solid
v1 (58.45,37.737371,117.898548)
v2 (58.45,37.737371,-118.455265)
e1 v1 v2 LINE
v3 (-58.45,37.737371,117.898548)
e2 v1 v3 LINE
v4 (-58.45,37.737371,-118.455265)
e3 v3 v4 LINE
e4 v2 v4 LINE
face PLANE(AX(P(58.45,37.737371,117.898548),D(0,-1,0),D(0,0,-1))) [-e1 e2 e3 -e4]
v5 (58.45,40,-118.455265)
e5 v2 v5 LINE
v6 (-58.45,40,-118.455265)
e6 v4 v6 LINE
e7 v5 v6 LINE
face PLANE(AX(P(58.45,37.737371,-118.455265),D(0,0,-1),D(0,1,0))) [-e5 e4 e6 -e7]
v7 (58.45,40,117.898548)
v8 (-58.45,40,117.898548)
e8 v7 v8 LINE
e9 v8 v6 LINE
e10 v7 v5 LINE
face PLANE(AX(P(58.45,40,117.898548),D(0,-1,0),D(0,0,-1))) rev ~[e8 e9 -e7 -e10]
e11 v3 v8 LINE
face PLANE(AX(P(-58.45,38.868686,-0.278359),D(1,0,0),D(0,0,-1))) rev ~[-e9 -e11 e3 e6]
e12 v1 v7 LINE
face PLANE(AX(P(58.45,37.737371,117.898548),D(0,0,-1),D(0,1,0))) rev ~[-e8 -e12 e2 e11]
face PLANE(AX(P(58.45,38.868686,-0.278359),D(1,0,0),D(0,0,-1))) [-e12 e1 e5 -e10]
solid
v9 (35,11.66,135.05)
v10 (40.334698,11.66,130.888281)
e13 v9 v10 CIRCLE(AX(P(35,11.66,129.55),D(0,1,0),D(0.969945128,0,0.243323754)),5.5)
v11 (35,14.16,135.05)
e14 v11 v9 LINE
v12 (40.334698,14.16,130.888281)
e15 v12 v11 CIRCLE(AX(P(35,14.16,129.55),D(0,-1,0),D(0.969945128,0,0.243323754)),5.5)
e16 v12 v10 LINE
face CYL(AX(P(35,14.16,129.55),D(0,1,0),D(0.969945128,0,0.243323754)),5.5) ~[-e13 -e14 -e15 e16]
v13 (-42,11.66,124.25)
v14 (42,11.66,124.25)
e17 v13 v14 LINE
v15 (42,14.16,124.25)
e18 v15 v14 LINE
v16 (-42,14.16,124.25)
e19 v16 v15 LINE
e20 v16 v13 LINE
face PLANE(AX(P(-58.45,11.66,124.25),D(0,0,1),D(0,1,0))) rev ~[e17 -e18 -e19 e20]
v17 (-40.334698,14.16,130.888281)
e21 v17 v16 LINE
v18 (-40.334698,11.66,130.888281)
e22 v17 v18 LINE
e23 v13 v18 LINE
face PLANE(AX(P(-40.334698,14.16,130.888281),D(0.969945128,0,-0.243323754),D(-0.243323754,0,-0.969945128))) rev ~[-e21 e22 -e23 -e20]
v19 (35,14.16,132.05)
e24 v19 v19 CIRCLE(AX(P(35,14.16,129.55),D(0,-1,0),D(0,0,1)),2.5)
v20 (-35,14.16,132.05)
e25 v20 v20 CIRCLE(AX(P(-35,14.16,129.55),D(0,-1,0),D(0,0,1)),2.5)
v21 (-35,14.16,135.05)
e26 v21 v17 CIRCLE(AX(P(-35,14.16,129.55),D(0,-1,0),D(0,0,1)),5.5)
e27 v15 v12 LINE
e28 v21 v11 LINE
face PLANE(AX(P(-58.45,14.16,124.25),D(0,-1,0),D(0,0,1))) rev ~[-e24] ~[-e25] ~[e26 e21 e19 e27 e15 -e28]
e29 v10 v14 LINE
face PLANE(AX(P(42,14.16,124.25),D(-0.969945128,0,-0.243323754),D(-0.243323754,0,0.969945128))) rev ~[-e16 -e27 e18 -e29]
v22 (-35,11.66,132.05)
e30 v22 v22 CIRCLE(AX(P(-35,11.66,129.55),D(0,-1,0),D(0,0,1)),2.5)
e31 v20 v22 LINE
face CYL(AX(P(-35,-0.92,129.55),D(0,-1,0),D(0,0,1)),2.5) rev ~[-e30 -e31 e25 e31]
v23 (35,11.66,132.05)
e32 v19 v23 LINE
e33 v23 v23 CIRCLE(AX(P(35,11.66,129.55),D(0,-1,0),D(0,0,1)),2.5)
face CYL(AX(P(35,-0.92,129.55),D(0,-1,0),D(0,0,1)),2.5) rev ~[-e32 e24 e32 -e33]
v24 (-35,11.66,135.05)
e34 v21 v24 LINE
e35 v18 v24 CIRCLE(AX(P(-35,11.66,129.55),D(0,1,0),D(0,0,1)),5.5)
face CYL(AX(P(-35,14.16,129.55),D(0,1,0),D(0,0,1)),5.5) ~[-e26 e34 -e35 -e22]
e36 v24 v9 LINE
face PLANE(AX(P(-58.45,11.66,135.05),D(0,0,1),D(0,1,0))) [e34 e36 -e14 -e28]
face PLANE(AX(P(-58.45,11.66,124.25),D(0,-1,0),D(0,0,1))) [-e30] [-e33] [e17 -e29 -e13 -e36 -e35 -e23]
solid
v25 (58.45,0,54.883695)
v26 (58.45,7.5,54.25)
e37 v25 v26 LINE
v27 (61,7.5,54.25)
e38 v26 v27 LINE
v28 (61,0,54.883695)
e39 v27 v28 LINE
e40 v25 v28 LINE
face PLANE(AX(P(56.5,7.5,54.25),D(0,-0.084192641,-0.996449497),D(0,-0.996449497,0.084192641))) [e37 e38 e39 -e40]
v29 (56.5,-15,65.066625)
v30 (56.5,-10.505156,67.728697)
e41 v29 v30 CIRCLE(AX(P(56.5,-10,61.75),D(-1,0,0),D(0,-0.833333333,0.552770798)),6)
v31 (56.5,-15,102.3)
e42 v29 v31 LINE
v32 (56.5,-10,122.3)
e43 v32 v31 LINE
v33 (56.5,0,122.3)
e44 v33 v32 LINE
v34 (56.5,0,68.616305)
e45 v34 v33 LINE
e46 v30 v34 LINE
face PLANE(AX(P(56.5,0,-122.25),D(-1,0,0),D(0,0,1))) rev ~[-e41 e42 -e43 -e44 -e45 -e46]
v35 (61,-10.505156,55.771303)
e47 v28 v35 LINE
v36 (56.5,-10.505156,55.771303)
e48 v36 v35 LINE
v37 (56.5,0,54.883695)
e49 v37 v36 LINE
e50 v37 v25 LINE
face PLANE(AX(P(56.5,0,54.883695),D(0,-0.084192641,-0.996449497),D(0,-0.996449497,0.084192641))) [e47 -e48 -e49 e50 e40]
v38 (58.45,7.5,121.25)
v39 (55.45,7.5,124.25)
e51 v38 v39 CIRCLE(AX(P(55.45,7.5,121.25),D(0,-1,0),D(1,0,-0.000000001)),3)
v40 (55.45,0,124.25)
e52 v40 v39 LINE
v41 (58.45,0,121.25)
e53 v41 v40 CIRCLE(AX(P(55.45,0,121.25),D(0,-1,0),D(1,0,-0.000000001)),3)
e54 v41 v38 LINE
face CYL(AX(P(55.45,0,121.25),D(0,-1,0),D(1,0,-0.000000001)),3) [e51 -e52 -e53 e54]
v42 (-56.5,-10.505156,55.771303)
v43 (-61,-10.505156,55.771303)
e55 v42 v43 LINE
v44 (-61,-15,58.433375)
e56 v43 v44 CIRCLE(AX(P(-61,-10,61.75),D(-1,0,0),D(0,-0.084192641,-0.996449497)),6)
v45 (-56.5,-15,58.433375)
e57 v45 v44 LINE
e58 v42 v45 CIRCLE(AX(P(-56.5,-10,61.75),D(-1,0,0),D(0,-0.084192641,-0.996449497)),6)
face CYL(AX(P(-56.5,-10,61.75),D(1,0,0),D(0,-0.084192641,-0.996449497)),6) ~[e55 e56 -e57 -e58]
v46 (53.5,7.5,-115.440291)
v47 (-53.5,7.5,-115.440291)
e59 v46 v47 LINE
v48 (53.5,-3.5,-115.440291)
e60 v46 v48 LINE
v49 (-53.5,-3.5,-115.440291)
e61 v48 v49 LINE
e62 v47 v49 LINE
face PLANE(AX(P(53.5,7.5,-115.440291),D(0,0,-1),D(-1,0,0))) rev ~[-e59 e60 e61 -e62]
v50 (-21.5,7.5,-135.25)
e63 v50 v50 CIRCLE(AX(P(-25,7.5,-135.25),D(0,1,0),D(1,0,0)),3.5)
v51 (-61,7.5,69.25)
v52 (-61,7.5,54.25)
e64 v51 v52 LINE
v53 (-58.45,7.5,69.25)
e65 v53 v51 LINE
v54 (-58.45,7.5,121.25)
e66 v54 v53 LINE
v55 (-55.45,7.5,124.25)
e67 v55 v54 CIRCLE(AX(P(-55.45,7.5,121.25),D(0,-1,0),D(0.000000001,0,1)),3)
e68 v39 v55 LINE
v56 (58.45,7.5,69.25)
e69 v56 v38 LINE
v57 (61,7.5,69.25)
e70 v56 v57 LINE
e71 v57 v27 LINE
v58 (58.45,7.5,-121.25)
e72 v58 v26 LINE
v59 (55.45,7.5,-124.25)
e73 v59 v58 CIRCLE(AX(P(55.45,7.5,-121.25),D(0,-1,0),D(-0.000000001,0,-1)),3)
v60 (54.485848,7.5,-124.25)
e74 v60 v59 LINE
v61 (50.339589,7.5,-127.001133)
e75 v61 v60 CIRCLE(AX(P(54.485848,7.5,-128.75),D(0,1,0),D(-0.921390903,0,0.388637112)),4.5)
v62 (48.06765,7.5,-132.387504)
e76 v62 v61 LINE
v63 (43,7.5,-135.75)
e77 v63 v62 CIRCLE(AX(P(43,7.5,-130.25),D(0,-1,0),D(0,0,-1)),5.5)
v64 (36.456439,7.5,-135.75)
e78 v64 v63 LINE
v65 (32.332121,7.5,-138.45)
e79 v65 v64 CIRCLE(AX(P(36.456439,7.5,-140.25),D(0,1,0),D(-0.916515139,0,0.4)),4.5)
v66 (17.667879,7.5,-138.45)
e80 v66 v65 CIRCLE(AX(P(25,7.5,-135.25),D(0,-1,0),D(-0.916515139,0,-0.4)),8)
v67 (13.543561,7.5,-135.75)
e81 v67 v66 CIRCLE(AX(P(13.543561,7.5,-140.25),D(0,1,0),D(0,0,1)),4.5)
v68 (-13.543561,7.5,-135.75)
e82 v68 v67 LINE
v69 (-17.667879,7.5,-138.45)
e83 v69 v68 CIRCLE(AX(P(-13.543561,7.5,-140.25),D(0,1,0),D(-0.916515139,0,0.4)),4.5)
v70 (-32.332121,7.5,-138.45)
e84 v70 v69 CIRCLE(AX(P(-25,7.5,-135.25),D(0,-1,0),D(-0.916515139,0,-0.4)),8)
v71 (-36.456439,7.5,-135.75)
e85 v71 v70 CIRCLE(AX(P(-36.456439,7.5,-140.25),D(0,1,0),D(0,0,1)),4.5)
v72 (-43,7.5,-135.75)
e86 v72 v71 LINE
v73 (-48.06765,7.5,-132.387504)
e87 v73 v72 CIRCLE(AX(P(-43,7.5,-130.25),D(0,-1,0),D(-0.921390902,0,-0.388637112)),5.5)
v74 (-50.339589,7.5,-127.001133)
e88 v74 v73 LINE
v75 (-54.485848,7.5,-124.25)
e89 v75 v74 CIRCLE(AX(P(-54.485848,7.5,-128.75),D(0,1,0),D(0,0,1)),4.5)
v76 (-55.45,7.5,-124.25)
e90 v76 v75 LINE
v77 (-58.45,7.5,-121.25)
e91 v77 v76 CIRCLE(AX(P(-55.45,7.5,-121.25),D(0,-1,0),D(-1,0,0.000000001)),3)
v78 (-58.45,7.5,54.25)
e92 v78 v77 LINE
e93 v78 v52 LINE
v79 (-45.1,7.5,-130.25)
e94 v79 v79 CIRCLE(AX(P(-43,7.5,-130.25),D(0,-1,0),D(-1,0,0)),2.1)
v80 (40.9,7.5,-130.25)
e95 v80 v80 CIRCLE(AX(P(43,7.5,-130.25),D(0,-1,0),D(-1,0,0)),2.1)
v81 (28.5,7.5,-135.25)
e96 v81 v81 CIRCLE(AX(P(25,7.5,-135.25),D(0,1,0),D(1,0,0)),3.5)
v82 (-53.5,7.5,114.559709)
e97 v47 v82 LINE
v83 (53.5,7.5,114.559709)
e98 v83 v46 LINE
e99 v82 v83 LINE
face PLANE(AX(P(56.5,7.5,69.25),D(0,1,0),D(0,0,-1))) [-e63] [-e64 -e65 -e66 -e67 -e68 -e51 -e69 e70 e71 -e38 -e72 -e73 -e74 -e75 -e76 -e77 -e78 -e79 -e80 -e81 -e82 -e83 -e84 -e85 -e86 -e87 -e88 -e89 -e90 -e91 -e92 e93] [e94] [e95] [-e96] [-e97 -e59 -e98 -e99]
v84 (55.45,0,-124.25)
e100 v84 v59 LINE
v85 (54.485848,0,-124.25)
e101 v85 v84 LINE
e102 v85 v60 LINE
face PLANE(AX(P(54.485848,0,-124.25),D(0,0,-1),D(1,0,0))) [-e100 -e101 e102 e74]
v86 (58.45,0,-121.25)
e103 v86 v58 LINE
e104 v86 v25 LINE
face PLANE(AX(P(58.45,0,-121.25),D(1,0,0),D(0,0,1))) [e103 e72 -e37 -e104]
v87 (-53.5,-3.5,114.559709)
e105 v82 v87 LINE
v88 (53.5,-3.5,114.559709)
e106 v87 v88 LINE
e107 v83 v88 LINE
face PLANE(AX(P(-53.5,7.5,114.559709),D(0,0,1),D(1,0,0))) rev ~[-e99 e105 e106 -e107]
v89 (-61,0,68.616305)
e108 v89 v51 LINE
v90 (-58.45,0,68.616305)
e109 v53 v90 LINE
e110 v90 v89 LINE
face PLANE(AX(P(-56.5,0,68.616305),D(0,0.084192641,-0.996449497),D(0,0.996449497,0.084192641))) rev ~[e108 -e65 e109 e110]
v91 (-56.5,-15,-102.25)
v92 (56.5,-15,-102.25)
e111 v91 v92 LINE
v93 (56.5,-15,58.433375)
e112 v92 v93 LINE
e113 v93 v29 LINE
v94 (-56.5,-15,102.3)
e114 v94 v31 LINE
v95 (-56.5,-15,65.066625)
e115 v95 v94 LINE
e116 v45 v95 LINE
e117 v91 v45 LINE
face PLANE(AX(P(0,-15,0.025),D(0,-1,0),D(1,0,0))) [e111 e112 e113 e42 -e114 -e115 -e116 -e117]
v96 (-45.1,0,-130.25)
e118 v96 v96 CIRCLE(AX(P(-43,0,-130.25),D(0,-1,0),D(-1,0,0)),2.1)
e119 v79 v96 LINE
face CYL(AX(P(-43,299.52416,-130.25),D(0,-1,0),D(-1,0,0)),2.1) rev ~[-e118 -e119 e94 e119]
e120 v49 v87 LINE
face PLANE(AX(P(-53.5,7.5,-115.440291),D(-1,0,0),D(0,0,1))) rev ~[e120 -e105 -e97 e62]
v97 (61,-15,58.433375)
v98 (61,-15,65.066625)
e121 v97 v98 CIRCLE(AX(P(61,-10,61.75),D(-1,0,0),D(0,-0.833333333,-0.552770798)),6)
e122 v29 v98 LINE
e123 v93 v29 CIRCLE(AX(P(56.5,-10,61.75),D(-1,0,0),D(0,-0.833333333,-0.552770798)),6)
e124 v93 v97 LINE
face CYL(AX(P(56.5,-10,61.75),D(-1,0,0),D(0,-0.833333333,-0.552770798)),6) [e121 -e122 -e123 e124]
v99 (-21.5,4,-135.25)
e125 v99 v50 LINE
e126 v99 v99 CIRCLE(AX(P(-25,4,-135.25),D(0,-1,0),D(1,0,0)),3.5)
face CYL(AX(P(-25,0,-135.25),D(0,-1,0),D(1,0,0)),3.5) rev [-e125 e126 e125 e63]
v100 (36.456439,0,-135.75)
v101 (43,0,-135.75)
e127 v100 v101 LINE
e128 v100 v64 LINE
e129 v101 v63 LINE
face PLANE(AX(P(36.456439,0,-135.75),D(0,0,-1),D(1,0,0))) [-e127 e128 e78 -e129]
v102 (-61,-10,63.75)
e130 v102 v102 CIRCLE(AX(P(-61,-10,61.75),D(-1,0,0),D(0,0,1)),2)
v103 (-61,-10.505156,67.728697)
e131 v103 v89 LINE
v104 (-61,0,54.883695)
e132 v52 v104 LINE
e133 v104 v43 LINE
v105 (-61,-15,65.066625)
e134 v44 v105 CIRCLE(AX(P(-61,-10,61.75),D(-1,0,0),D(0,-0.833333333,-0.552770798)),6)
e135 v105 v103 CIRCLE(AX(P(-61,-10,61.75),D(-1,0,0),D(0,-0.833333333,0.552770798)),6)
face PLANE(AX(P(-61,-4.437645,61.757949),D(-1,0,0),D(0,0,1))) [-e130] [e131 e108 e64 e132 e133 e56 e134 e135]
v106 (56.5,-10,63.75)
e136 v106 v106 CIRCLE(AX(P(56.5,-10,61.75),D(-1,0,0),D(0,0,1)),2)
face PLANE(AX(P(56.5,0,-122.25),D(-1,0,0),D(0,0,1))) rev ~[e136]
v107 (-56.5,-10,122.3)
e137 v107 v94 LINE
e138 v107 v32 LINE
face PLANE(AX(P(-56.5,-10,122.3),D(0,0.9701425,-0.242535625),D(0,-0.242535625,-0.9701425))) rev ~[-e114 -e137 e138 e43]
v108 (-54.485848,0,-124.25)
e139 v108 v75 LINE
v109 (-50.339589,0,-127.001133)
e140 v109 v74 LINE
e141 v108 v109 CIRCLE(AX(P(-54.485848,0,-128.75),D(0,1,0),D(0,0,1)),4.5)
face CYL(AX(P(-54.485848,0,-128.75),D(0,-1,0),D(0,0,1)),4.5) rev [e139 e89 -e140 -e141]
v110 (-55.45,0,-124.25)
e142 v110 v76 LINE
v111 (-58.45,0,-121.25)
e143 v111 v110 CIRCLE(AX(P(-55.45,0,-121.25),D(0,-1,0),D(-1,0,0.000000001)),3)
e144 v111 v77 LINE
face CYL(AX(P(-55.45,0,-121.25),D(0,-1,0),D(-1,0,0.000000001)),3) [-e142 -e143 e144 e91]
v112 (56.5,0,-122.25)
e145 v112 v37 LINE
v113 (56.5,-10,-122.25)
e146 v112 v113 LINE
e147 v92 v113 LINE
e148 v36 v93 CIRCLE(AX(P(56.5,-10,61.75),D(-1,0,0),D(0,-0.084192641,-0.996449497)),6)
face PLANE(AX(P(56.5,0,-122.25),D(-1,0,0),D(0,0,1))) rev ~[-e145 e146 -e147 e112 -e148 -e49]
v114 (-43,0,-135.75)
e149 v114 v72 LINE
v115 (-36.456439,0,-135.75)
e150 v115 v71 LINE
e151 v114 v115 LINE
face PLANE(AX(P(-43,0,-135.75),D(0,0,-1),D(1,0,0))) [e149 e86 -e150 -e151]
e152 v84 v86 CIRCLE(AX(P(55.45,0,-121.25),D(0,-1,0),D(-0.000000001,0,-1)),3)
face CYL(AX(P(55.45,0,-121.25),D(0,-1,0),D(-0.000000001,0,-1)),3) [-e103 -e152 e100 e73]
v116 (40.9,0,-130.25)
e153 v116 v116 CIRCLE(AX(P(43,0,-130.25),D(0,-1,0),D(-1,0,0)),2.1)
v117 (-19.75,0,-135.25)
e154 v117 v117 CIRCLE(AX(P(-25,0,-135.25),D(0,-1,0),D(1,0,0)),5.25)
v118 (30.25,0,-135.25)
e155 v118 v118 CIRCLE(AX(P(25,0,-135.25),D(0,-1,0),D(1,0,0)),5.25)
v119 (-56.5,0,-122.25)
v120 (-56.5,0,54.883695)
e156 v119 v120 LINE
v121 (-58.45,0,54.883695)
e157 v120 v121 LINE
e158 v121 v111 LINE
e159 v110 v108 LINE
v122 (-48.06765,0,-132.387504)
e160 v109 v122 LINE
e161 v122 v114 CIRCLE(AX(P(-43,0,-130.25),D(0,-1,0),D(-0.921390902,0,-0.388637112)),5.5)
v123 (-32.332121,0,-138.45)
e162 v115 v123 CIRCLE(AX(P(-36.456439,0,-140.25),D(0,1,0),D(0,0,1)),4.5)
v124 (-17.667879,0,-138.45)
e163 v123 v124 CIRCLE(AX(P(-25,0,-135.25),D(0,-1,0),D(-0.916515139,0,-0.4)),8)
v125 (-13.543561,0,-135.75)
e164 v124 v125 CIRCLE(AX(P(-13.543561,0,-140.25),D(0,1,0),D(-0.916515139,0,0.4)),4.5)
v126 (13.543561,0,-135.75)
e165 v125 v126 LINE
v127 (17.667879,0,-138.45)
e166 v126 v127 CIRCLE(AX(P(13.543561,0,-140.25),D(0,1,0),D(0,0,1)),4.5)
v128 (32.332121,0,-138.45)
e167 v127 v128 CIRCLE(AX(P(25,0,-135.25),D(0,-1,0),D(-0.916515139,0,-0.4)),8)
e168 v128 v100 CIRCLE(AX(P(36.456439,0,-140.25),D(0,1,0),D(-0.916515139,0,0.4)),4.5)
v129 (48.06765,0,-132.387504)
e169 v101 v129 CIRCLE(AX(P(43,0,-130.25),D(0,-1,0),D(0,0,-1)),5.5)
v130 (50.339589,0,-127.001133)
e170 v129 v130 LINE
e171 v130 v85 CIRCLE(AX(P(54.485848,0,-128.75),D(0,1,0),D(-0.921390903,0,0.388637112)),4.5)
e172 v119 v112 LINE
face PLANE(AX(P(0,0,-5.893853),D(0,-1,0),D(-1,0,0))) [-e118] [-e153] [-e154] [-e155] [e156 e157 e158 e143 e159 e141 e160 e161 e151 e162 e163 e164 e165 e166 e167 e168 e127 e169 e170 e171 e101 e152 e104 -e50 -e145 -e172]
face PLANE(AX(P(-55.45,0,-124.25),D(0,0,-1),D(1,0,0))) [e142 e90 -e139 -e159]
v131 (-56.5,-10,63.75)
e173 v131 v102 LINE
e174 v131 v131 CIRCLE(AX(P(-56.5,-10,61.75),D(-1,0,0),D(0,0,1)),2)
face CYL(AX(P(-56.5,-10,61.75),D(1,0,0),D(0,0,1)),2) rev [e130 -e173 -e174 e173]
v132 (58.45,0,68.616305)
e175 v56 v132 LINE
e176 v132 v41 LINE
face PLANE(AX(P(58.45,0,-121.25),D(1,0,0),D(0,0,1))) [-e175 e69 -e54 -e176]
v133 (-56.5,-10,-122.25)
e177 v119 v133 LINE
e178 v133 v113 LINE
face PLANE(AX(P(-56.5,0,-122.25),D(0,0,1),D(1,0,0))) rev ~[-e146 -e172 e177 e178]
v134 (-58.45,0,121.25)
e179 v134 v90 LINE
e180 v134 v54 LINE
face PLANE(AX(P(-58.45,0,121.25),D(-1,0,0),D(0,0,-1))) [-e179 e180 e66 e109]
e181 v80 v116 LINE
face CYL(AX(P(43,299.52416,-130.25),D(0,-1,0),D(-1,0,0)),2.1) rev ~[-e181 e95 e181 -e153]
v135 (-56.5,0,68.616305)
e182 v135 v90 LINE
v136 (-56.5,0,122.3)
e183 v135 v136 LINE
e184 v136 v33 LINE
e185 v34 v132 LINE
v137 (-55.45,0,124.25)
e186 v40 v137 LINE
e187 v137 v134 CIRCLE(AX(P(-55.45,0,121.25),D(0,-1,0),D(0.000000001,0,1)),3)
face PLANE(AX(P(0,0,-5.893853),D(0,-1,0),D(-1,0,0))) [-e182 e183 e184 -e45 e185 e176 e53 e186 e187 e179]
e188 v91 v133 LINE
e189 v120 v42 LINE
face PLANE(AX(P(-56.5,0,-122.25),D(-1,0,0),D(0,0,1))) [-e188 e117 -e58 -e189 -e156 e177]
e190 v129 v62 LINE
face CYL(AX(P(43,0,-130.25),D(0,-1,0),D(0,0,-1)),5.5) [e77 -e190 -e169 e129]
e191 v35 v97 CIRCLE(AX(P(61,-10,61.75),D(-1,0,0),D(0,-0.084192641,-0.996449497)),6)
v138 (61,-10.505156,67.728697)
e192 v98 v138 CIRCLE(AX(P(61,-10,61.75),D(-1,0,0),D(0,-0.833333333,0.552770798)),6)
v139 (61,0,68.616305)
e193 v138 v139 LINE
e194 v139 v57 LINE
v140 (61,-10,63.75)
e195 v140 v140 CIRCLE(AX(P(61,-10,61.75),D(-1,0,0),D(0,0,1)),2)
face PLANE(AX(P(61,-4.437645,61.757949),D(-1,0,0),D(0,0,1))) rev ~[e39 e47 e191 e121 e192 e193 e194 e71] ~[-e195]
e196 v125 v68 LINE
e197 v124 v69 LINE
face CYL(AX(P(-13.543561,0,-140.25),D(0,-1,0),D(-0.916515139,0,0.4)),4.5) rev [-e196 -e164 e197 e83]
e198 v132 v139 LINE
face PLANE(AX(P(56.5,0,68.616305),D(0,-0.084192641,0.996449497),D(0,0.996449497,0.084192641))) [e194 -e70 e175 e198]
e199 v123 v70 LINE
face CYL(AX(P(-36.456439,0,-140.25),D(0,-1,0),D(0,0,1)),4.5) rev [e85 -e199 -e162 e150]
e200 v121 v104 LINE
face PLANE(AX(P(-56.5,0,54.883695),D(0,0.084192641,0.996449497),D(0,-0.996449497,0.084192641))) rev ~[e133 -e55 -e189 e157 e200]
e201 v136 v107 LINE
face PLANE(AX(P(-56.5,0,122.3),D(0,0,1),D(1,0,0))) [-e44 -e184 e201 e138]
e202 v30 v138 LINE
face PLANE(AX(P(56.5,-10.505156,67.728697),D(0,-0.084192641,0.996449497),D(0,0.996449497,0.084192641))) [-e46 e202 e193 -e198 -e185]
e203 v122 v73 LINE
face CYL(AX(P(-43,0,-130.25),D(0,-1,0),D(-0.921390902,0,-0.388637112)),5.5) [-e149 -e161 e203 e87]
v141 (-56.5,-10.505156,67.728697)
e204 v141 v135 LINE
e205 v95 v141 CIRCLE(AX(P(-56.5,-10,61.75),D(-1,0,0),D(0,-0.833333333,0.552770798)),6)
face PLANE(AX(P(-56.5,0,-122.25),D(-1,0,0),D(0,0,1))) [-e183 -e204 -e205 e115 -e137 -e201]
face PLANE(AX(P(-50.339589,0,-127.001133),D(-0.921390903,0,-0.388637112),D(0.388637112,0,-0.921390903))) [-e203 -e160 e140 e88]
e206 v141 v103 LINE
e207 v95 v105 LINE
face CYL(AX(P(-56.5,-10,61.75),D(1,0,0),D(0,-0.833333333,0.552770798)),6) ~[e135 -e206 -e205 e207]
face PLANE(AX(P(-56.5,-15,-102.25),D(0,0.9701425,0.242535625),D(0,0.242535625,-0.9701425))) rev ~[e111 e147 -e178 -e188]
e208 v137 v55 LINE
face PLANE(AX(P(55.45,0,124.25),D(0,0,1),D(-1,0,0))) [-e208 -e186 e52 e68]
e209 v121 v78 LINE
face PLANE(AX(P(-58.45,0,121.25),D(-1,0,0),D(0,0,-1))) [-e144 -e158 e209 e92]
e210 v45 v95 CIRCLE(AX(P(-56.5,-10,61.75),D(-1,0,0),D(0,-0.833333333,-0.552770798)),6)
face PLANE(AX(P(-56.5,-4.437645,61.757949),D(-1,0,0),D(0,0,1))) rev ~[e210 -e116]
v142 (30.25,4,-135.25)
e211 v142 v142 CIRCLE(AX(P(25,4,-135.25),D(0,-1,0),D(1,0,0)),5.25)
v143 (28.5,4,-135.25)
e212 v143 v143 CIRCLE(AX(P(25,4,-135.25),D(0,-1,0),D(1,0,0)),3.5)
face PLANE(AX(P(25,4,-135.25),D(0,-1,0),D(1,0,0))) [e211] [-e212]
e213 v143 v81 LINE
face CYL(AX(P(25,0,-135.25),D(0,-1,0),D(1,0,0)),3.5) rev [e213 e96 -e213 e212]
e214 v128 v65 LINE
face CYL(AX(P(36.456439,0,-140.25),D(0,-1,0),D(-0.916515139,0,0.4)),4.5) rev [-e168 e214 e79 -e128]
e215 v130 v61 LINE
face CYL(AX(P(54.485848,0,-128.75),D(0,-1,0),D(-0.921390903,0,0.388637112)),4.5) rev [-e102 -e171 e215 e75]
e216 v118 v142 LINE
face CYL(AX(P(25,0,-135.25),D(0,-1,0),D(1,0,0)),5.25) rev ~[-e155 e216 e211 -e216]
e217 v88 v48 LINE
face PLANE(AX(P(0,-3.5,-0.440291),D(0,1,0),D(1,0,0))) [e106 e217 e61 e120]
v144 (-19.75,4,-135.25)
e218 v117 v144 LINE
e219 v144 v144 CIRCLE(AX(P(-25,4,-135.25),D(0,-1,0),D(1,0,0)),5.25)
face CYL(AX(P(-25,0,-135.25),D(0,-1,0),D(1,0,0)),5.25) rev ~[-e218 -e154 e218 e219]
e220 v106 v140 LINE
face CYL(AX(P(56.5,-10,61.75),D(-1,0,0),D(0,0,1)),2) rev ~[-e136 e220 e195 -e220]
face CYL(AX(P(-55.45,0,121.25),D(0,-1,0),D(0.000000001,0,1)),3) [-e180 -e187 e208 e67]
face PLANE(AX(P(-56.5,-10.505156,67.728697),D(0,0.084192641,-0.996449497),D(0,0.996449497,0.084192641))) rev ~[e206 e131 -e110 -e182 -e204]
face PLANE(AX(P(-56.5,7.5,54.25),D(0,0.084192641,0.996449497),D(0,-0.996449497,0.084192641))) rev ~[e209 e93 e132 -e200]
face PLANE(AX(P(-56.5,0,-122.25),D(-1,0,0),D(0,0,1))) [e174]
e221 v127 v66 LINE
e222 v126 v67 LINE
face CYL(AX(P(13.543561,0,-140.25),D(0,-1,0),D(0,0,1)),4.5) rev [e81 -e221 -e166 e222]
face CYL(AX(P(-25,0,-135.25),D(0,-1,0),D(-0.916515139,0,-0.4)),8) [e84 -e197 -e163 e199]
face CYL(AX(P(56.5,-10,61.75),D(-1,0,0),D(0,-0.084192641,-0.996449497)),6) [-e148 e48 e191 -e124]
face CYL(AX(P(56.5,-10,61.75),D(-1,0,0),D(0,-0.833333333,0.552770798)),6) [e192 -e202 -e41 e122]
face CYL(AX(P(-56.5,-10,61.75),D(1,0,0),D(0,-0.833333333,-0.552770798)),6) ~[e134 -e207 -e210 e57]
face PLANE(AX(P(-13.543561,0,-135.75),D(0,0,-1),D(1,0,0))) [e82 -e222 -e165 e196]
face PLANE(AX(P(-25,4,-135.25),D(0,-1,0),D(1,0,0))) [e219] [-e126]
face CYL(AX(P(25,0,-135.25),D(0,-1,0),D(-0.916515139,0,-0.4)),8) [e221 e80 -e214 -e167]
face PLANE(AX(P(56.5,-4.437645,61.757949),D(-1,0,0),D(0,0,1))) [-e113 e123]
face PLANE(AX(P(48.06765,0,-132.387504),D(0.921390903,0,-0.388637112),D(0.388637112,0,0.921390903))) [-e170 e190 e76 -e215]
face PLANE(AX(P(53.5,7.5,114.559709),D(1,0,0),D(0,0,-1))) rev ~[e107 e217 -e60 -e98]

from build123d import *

# Parameters (mm, degrees)
SKETCH_2_R          = 3.5
SKETCH_2_R_2        = 1.75
EXTRUDE_1_DEPTH     = 7.5
SKETCH_3_R          = 5.25
CUT_EXTRUDE_1_DEPTH = 4
HOLE_WIZARD_M5_1_D  = 4.2
SKETCH_6_W          = 113
SKETCH_6_H          = 244.55
EXTRUDE_2_DEPTH     = 15
SKETCH_7_R          = 2
EXTRUDE_4_DEPTH     = 4.5
EXTRUDE_START       = -113
SKETCH_7_4_R        = 2
EXTRUDE_5_DEPTH     = 4.5
SKETCH_8_W          = 10.8
SKETCH_8_H          = 2.5
EXTRUDE_6_DEPTH     = 110
CUT_EXTRUDE_2_DEPTH = 110
SKETCH_11_W         = 2.5
SKETCH_11_H         = 30.16
MM_1_AT_2_COUNT     = 2
MM_1_AT_2_PITCH     = 70
CUT_EXTRUDE_3_DEPTH = 118.5
SKETCH_13_W         = 236.353812636
SKETCH_13_H         = 2.262628903
EXTRUDE_7_DEPTH     = 116.9
CUT_EXTRUDE_4_DEPTH = 11


with BuildPart() as part:
    # 草图2 → 凸台-拉伸1 (new body)
    with BuildSketch(Plane(origin=(0, 0, 0), x_dir=(1, 0, 0), z_dir=(0, 1, 0))):
        with BuildLine():
            Line((-43, 135.75), (-36.456439237, 135.75))
            ThreePointArc((-36.456439237, 135.75), (-33.991687729, 136.485029881), (-32.332121112, 138.45))
            ThreePointArc((-32.332121112, 138.45), (-25, 143.25), (-17.667878888, 138.45))
            ThreePointArc((-17.667878888, 138.45), (-16.008312271, 136.485029881), (-13.543560763, 135.75))
            Line((-13.543560763, 135.75), (13.543560763, 135.75))
            ThreePointArc((13.543560763, 135.75), (16.008312271, 136.485029881), (17.667878888, 138.45))
            ThreePointArc((17.667878888, 138.45), (25, 143.25), (32.332121112, 138.45))
            ThreePointArc((32.332121112, 138.45), (33.991687729, 136.485029881), (36.456439237, 135.75))
            Line((36.456439237, 135.75), (43, 135.75))
            ThreePointArc((43, 135.75), (46.040865614, 134.832917882), (48.067649964, 132.387504115))
            Line((48.067649964, 132.387504115), (50.339588736, 127.001132996))
            ThreePointArc((50.339588736, 127.001132996), (51.99786684, 125.000339914), (54.485847797, 124.25))
            Line((54.485847797, 124.25), (55.45, 124.25))
            ThreePointArc((55.45, 124.25), (57.571320344, 123.371320344), (58.45, 121.25))
            Line((58.45, 121.25), (58.45, -121.25))
            ThreePointArc((58.45, -121.25), (57.571320344, -123.371320344), (55.45, -124.25))
            Line((55.45, -124.25), (-55.45, -124.25))
            ThreePointArc((-55.45, -124.25), (-57.571320344, -123.371320344), (-58.45, -121.25))
            Line((-58.45, -121.25), (-58.45, 121.25))
            ThreePointArc((-58.45, 121.25), (-57.571320344, 123.371320344), (-55.45, 124.25))
            Line((-55.45, 124.25), (-54.485847797, 124.25))
            ThreePointArc((-54.485847797, 124.25), (-51.99786684, 125.000339914), (-50.339588736, 127.001132996))
            Line((-50.339588736, 127.001132996), (-48.067649964, 132.387504115))
            ThreePointArc((-48.067649964, 132.387504115), (-46.040865614, 134.832917882), (-43, 135.75))
        make_face()
        with Locations((-25, 135.25)):
            Circle(SKETCH_2_R, mode=Mode.SUBTRACT)
        with Locations((25, 135.25)):
            Circle(SKETCH_2_R, mode=Mode.SUBTRACT)
        with Locations((-43, 130.25)):
            Circle(SKETCH_2_R_2, mode=Mode.SUBTRACT)
        with Locations((43, 130.25)):
            Circle(SKETCH_2_R_2, mode=Mode.SUBTRACT)
    extrude(amount=EXTRUDE_1_DEPTH)

    # 草图3 → 切除-拉伸1 (cut)
    with BuildSketch(Plane.XZ):
        with Locations((25, -135.25)):
            Circle(SKETCH_3_R)
        with Locations((-25, -135.25)):
            Circle(SKETCH_3_R)
    extrude(amount=-CUT_EXTRUDE_1_DEPTH, mode=Mode.SUBTRACT)

    # M5 螺纹孔1 (through all)
    with Locations(Plane(origin=(0, 7.5, 0), x_dir=(1, 0, 0), z_dir=(0, 1, 0))):
        with Locations((-43, 130.25), (43, 130.25)):
            Hole(HOLE_WIZARD_M5_1_D / 2)

    # 草图6 → 凸台-拉伸2 (add)
    with BuildSketch(Plane.XZ):
        with Locations((0, 0.025)):
            Rectangle(SKETCH_6_W, SKETCH_6_H)
    extrude(amount=EXTRUDE_2_DEPTH)

    # 草图7 → 凸台-拉伸4 (add)
    with BuildSketch(Plane.ZY.offset(56.5)):
        with BuildLine():
            Line((68.616305254, 0), (54.883694746, 0))
            Line((54.883694746, 0), (55.771303021, -10.505155848))
            ThreePointArc((55.771303021, -10.505155848), (61.497197582, -4.005328121), (67.75, -10))
            ThreePointArc((67.75, -10), (67.744671879, -10.252802418), (67.728696979, -10.505155848))
            Line((67.728696979, -10.505155848), (68.616305254, 0))
        make_face()
        with BuildLine():
            ThreePointArc((67.75, -10), (61.497197582, -4.005328121), (55.771303021, -10.505155848))
            ThreePointArc((55.771303021, -10.505155848), (56.587475648, -13.057505897), (58.43337521, -15))
            Line((58.43337521, -15), (65.06662479, -15))
            ThreePointArc((65.06662479, -15), (66.912524352, -13.057505897), (67.728696979, -10.505155848))
            ThreePointArc((67.728696979, -10.505155848), (67.744671879, -10.252802418), (67.75, -10))
        make_face()
        with Locations((61.75, -10)):
            Circle(SKETCH_7_R, mode=Mode.SUBTRACT)
        Polygon((69.25, 7.5), (54.25, 7.5), (54.883694746, 0), (68.616305254, 0), align=None)
        with BuildLine():
            Line((65.06662479, -15), (58.43337521, -15))
            ThreePointArc((58.43337521, -15), (61.75, -16), (65.06662479, -15))
        make_face()
    extrude(amount=EXTRUDE_4_DEPTH)

    # 草图7<4> → 凸台-拉伸5 (add)
    with BuildSketch(Plane.ZY.offset(56.5).offset(EXTRUDE_START)):
        with BuildLine():
            Line((68.616305254, 0), (54.883694746, 0))
            Line((54.883694746, 0), (55.771303021, -10.505155848))
            ThreePointArc((55.771303021, -10.505155848), (61.497197582, -4.005328121), (67.75, -10))
            ThreePointArc((67.75, -10), (67.744671879, -10.252802418), (67.728696979, -10.505155848))
            Line((67.728696979, -10.505155848), (68.616305254, 0))
        make_face()
        with BuildLine():
            ThreePointArc((67.75, -10), (61.497197582, -4.005328121), (55.771303021, -10.505155848))
            ThreePointArc((55.771303021, -10.505155848), (56.587475648, -13.057505897), (58.43337521, -15))
            Line((58.43337521, -15), (65.06662479, -15))
            ThreePointArc((65.06662479, -15), (66.912524352, -13.057505897), (67.728696979, -10.505155848))
            ThreePointArc((67.728696979, -10.505155848), (67.744671879, -10.252802418), (67.75, -10))
        make_face()
        with Locations((61.75, -10)):
            Circle(SKETCH_7_4_R, mode=Mode.SUBTRACT)
        Polygon((69.25, 7.5), (54.25, 7.5), (54.883694746, 0), (68.616305254, 0), align=None)
        with BuildLine():
            Line((65.06662479, -15), (58.43337521, -15))
            ThreePointArc((58.43337521, -15), (61.75, -16), (65.06662479, -15))
        make_face()
    extrude(amount=-EXTRUDE_5_DEPTH)

    # 草图12 → 切除-拉伸3 (cut, through all)
    with BuildSketch(Plane.ZY.offset(56.5)):
        Polygon((122.3, -10), (102.3, -15), (122.3, -15), align=None)
        Polygon((-102.25, -15), (-122.25, -10), (-122.25, -15), align=None)
    extrude(amount=-CUT_EXTRUDE_3_DEPTH, mode=Mode.SUBTRACT)

    # 草图14 → 切除-拉伸4 (cut)
    with BuildSketch(Plane(origin=(0, 7.5, 0), x_dir=(1, 0, 0), z_dir=(0, 1, 0))):
        Polygon((-53.5, -114.559708527), (53.5, -114.559708527), (53.5, -102.3), (53.5, -65.06662479), (53.5, -58.43337521), (53.5, 102.25), (53.5, 115.440291473), (-53.5, 115.440291473), (-53.5, 102.25), (-53.5, -58.43337521), (-53.5, -65.06662479), (-53.5, -102.3), align=None)
    extrude(amount=-CUT_EXTRUDE_4_DEPTH, mode=Mode.SUBTRACT)


with BuildPart() as body_2:
    # 草图8 → 凸台-拉伸6 (new body)
    with BuildSketch(Plane.ZY.offset(58.45)):
        with Locations((129.65, 12.91)):
            Rectangle(SKETCH_8_W, SKETCH_8_H)
    extrude(amount=-EXTRUDE_6_DEPTH)

    # 草图9 → 切除-拉伸2 (cut)
    with BuildSketch(Plane(origin=(0, 14.16, 0), x_dir=(1, 0, 0), z_dir=(0, 1, 0))):
        with BuildLine():
            Line((-40.334698203, -130.888280645), (-42, -124.25))
            Line((-42, -124.25), (-58.45, -124.25))
            Line((-58.45, -124.25), (-58.45, -135.05))
            Line((-58.45, -135.05), (-35, -135.05))
            ThreePointArc((-35, -135.05), (-38.383005797, -133.886504557), (-40.334698203, -130.888280645))
        make_face()
        with BuildLine():
            ThreePointArc((40.334698203, -130.888280645), (38.383005797, -133.886504557), (35, -135.05))
            Line((35, -135.05), (51.55, -135.05))
            Line((51.55, -135.05), (51.55, -124.25))
            Line((51.55, -124.25), (42, -124.25))
            Line((42, -124.25), (40.334698203, -130.888280645))
        make_face()
    extrude(amount=-CUT_EXTRUDE_2_DEPTH, mode=Mode.SUBTRACT)

    # 草图11 → 大小mm 暗销孔1 (revolve, cut)
    with BuildSketch(Plane(origin=(-35, 14.16, 129.55), x_dir=(0, 0, 1), z_dir=(1, 0, 0))):
        with Locations((1.25, 15.08)):
            Rectangle(SKETCH_11_W, SKETCH_11_H)
    mm_1 = revolve(axis=Axis((-35, 20.51, 129.55), (0, -1, 0)), mode=Mode.SUBTRACT)

    # 大小mm 暗销孔1 at 2: 大小mm 暗销孔1 ×2
    with Locations(*[(i * MM_1_AT_2_PITCH, 0, 0) for i in range(1, MM_1_AT_2_COUNT)]):
        add(mm_1, mode=Mode.SUBTRACT)


with BuildPart() as body_3:
    # 草图13 → 凸台-拉伸7 (new body)
    with BuildSketch(Plane(origin=(58.45, 0, 0), x_dir=(0, 0, -1), z_dir=(1, 0, 0))):
        with Locations((0.278358751, 38.868685548)):
            Rectangle(SKETCH_13_W, SKETCH_13_H)
    extrude(amount=-EXTRUDE_7_DEPTH)


solid = Compound([part.part, body_2.part, body_3.part])
